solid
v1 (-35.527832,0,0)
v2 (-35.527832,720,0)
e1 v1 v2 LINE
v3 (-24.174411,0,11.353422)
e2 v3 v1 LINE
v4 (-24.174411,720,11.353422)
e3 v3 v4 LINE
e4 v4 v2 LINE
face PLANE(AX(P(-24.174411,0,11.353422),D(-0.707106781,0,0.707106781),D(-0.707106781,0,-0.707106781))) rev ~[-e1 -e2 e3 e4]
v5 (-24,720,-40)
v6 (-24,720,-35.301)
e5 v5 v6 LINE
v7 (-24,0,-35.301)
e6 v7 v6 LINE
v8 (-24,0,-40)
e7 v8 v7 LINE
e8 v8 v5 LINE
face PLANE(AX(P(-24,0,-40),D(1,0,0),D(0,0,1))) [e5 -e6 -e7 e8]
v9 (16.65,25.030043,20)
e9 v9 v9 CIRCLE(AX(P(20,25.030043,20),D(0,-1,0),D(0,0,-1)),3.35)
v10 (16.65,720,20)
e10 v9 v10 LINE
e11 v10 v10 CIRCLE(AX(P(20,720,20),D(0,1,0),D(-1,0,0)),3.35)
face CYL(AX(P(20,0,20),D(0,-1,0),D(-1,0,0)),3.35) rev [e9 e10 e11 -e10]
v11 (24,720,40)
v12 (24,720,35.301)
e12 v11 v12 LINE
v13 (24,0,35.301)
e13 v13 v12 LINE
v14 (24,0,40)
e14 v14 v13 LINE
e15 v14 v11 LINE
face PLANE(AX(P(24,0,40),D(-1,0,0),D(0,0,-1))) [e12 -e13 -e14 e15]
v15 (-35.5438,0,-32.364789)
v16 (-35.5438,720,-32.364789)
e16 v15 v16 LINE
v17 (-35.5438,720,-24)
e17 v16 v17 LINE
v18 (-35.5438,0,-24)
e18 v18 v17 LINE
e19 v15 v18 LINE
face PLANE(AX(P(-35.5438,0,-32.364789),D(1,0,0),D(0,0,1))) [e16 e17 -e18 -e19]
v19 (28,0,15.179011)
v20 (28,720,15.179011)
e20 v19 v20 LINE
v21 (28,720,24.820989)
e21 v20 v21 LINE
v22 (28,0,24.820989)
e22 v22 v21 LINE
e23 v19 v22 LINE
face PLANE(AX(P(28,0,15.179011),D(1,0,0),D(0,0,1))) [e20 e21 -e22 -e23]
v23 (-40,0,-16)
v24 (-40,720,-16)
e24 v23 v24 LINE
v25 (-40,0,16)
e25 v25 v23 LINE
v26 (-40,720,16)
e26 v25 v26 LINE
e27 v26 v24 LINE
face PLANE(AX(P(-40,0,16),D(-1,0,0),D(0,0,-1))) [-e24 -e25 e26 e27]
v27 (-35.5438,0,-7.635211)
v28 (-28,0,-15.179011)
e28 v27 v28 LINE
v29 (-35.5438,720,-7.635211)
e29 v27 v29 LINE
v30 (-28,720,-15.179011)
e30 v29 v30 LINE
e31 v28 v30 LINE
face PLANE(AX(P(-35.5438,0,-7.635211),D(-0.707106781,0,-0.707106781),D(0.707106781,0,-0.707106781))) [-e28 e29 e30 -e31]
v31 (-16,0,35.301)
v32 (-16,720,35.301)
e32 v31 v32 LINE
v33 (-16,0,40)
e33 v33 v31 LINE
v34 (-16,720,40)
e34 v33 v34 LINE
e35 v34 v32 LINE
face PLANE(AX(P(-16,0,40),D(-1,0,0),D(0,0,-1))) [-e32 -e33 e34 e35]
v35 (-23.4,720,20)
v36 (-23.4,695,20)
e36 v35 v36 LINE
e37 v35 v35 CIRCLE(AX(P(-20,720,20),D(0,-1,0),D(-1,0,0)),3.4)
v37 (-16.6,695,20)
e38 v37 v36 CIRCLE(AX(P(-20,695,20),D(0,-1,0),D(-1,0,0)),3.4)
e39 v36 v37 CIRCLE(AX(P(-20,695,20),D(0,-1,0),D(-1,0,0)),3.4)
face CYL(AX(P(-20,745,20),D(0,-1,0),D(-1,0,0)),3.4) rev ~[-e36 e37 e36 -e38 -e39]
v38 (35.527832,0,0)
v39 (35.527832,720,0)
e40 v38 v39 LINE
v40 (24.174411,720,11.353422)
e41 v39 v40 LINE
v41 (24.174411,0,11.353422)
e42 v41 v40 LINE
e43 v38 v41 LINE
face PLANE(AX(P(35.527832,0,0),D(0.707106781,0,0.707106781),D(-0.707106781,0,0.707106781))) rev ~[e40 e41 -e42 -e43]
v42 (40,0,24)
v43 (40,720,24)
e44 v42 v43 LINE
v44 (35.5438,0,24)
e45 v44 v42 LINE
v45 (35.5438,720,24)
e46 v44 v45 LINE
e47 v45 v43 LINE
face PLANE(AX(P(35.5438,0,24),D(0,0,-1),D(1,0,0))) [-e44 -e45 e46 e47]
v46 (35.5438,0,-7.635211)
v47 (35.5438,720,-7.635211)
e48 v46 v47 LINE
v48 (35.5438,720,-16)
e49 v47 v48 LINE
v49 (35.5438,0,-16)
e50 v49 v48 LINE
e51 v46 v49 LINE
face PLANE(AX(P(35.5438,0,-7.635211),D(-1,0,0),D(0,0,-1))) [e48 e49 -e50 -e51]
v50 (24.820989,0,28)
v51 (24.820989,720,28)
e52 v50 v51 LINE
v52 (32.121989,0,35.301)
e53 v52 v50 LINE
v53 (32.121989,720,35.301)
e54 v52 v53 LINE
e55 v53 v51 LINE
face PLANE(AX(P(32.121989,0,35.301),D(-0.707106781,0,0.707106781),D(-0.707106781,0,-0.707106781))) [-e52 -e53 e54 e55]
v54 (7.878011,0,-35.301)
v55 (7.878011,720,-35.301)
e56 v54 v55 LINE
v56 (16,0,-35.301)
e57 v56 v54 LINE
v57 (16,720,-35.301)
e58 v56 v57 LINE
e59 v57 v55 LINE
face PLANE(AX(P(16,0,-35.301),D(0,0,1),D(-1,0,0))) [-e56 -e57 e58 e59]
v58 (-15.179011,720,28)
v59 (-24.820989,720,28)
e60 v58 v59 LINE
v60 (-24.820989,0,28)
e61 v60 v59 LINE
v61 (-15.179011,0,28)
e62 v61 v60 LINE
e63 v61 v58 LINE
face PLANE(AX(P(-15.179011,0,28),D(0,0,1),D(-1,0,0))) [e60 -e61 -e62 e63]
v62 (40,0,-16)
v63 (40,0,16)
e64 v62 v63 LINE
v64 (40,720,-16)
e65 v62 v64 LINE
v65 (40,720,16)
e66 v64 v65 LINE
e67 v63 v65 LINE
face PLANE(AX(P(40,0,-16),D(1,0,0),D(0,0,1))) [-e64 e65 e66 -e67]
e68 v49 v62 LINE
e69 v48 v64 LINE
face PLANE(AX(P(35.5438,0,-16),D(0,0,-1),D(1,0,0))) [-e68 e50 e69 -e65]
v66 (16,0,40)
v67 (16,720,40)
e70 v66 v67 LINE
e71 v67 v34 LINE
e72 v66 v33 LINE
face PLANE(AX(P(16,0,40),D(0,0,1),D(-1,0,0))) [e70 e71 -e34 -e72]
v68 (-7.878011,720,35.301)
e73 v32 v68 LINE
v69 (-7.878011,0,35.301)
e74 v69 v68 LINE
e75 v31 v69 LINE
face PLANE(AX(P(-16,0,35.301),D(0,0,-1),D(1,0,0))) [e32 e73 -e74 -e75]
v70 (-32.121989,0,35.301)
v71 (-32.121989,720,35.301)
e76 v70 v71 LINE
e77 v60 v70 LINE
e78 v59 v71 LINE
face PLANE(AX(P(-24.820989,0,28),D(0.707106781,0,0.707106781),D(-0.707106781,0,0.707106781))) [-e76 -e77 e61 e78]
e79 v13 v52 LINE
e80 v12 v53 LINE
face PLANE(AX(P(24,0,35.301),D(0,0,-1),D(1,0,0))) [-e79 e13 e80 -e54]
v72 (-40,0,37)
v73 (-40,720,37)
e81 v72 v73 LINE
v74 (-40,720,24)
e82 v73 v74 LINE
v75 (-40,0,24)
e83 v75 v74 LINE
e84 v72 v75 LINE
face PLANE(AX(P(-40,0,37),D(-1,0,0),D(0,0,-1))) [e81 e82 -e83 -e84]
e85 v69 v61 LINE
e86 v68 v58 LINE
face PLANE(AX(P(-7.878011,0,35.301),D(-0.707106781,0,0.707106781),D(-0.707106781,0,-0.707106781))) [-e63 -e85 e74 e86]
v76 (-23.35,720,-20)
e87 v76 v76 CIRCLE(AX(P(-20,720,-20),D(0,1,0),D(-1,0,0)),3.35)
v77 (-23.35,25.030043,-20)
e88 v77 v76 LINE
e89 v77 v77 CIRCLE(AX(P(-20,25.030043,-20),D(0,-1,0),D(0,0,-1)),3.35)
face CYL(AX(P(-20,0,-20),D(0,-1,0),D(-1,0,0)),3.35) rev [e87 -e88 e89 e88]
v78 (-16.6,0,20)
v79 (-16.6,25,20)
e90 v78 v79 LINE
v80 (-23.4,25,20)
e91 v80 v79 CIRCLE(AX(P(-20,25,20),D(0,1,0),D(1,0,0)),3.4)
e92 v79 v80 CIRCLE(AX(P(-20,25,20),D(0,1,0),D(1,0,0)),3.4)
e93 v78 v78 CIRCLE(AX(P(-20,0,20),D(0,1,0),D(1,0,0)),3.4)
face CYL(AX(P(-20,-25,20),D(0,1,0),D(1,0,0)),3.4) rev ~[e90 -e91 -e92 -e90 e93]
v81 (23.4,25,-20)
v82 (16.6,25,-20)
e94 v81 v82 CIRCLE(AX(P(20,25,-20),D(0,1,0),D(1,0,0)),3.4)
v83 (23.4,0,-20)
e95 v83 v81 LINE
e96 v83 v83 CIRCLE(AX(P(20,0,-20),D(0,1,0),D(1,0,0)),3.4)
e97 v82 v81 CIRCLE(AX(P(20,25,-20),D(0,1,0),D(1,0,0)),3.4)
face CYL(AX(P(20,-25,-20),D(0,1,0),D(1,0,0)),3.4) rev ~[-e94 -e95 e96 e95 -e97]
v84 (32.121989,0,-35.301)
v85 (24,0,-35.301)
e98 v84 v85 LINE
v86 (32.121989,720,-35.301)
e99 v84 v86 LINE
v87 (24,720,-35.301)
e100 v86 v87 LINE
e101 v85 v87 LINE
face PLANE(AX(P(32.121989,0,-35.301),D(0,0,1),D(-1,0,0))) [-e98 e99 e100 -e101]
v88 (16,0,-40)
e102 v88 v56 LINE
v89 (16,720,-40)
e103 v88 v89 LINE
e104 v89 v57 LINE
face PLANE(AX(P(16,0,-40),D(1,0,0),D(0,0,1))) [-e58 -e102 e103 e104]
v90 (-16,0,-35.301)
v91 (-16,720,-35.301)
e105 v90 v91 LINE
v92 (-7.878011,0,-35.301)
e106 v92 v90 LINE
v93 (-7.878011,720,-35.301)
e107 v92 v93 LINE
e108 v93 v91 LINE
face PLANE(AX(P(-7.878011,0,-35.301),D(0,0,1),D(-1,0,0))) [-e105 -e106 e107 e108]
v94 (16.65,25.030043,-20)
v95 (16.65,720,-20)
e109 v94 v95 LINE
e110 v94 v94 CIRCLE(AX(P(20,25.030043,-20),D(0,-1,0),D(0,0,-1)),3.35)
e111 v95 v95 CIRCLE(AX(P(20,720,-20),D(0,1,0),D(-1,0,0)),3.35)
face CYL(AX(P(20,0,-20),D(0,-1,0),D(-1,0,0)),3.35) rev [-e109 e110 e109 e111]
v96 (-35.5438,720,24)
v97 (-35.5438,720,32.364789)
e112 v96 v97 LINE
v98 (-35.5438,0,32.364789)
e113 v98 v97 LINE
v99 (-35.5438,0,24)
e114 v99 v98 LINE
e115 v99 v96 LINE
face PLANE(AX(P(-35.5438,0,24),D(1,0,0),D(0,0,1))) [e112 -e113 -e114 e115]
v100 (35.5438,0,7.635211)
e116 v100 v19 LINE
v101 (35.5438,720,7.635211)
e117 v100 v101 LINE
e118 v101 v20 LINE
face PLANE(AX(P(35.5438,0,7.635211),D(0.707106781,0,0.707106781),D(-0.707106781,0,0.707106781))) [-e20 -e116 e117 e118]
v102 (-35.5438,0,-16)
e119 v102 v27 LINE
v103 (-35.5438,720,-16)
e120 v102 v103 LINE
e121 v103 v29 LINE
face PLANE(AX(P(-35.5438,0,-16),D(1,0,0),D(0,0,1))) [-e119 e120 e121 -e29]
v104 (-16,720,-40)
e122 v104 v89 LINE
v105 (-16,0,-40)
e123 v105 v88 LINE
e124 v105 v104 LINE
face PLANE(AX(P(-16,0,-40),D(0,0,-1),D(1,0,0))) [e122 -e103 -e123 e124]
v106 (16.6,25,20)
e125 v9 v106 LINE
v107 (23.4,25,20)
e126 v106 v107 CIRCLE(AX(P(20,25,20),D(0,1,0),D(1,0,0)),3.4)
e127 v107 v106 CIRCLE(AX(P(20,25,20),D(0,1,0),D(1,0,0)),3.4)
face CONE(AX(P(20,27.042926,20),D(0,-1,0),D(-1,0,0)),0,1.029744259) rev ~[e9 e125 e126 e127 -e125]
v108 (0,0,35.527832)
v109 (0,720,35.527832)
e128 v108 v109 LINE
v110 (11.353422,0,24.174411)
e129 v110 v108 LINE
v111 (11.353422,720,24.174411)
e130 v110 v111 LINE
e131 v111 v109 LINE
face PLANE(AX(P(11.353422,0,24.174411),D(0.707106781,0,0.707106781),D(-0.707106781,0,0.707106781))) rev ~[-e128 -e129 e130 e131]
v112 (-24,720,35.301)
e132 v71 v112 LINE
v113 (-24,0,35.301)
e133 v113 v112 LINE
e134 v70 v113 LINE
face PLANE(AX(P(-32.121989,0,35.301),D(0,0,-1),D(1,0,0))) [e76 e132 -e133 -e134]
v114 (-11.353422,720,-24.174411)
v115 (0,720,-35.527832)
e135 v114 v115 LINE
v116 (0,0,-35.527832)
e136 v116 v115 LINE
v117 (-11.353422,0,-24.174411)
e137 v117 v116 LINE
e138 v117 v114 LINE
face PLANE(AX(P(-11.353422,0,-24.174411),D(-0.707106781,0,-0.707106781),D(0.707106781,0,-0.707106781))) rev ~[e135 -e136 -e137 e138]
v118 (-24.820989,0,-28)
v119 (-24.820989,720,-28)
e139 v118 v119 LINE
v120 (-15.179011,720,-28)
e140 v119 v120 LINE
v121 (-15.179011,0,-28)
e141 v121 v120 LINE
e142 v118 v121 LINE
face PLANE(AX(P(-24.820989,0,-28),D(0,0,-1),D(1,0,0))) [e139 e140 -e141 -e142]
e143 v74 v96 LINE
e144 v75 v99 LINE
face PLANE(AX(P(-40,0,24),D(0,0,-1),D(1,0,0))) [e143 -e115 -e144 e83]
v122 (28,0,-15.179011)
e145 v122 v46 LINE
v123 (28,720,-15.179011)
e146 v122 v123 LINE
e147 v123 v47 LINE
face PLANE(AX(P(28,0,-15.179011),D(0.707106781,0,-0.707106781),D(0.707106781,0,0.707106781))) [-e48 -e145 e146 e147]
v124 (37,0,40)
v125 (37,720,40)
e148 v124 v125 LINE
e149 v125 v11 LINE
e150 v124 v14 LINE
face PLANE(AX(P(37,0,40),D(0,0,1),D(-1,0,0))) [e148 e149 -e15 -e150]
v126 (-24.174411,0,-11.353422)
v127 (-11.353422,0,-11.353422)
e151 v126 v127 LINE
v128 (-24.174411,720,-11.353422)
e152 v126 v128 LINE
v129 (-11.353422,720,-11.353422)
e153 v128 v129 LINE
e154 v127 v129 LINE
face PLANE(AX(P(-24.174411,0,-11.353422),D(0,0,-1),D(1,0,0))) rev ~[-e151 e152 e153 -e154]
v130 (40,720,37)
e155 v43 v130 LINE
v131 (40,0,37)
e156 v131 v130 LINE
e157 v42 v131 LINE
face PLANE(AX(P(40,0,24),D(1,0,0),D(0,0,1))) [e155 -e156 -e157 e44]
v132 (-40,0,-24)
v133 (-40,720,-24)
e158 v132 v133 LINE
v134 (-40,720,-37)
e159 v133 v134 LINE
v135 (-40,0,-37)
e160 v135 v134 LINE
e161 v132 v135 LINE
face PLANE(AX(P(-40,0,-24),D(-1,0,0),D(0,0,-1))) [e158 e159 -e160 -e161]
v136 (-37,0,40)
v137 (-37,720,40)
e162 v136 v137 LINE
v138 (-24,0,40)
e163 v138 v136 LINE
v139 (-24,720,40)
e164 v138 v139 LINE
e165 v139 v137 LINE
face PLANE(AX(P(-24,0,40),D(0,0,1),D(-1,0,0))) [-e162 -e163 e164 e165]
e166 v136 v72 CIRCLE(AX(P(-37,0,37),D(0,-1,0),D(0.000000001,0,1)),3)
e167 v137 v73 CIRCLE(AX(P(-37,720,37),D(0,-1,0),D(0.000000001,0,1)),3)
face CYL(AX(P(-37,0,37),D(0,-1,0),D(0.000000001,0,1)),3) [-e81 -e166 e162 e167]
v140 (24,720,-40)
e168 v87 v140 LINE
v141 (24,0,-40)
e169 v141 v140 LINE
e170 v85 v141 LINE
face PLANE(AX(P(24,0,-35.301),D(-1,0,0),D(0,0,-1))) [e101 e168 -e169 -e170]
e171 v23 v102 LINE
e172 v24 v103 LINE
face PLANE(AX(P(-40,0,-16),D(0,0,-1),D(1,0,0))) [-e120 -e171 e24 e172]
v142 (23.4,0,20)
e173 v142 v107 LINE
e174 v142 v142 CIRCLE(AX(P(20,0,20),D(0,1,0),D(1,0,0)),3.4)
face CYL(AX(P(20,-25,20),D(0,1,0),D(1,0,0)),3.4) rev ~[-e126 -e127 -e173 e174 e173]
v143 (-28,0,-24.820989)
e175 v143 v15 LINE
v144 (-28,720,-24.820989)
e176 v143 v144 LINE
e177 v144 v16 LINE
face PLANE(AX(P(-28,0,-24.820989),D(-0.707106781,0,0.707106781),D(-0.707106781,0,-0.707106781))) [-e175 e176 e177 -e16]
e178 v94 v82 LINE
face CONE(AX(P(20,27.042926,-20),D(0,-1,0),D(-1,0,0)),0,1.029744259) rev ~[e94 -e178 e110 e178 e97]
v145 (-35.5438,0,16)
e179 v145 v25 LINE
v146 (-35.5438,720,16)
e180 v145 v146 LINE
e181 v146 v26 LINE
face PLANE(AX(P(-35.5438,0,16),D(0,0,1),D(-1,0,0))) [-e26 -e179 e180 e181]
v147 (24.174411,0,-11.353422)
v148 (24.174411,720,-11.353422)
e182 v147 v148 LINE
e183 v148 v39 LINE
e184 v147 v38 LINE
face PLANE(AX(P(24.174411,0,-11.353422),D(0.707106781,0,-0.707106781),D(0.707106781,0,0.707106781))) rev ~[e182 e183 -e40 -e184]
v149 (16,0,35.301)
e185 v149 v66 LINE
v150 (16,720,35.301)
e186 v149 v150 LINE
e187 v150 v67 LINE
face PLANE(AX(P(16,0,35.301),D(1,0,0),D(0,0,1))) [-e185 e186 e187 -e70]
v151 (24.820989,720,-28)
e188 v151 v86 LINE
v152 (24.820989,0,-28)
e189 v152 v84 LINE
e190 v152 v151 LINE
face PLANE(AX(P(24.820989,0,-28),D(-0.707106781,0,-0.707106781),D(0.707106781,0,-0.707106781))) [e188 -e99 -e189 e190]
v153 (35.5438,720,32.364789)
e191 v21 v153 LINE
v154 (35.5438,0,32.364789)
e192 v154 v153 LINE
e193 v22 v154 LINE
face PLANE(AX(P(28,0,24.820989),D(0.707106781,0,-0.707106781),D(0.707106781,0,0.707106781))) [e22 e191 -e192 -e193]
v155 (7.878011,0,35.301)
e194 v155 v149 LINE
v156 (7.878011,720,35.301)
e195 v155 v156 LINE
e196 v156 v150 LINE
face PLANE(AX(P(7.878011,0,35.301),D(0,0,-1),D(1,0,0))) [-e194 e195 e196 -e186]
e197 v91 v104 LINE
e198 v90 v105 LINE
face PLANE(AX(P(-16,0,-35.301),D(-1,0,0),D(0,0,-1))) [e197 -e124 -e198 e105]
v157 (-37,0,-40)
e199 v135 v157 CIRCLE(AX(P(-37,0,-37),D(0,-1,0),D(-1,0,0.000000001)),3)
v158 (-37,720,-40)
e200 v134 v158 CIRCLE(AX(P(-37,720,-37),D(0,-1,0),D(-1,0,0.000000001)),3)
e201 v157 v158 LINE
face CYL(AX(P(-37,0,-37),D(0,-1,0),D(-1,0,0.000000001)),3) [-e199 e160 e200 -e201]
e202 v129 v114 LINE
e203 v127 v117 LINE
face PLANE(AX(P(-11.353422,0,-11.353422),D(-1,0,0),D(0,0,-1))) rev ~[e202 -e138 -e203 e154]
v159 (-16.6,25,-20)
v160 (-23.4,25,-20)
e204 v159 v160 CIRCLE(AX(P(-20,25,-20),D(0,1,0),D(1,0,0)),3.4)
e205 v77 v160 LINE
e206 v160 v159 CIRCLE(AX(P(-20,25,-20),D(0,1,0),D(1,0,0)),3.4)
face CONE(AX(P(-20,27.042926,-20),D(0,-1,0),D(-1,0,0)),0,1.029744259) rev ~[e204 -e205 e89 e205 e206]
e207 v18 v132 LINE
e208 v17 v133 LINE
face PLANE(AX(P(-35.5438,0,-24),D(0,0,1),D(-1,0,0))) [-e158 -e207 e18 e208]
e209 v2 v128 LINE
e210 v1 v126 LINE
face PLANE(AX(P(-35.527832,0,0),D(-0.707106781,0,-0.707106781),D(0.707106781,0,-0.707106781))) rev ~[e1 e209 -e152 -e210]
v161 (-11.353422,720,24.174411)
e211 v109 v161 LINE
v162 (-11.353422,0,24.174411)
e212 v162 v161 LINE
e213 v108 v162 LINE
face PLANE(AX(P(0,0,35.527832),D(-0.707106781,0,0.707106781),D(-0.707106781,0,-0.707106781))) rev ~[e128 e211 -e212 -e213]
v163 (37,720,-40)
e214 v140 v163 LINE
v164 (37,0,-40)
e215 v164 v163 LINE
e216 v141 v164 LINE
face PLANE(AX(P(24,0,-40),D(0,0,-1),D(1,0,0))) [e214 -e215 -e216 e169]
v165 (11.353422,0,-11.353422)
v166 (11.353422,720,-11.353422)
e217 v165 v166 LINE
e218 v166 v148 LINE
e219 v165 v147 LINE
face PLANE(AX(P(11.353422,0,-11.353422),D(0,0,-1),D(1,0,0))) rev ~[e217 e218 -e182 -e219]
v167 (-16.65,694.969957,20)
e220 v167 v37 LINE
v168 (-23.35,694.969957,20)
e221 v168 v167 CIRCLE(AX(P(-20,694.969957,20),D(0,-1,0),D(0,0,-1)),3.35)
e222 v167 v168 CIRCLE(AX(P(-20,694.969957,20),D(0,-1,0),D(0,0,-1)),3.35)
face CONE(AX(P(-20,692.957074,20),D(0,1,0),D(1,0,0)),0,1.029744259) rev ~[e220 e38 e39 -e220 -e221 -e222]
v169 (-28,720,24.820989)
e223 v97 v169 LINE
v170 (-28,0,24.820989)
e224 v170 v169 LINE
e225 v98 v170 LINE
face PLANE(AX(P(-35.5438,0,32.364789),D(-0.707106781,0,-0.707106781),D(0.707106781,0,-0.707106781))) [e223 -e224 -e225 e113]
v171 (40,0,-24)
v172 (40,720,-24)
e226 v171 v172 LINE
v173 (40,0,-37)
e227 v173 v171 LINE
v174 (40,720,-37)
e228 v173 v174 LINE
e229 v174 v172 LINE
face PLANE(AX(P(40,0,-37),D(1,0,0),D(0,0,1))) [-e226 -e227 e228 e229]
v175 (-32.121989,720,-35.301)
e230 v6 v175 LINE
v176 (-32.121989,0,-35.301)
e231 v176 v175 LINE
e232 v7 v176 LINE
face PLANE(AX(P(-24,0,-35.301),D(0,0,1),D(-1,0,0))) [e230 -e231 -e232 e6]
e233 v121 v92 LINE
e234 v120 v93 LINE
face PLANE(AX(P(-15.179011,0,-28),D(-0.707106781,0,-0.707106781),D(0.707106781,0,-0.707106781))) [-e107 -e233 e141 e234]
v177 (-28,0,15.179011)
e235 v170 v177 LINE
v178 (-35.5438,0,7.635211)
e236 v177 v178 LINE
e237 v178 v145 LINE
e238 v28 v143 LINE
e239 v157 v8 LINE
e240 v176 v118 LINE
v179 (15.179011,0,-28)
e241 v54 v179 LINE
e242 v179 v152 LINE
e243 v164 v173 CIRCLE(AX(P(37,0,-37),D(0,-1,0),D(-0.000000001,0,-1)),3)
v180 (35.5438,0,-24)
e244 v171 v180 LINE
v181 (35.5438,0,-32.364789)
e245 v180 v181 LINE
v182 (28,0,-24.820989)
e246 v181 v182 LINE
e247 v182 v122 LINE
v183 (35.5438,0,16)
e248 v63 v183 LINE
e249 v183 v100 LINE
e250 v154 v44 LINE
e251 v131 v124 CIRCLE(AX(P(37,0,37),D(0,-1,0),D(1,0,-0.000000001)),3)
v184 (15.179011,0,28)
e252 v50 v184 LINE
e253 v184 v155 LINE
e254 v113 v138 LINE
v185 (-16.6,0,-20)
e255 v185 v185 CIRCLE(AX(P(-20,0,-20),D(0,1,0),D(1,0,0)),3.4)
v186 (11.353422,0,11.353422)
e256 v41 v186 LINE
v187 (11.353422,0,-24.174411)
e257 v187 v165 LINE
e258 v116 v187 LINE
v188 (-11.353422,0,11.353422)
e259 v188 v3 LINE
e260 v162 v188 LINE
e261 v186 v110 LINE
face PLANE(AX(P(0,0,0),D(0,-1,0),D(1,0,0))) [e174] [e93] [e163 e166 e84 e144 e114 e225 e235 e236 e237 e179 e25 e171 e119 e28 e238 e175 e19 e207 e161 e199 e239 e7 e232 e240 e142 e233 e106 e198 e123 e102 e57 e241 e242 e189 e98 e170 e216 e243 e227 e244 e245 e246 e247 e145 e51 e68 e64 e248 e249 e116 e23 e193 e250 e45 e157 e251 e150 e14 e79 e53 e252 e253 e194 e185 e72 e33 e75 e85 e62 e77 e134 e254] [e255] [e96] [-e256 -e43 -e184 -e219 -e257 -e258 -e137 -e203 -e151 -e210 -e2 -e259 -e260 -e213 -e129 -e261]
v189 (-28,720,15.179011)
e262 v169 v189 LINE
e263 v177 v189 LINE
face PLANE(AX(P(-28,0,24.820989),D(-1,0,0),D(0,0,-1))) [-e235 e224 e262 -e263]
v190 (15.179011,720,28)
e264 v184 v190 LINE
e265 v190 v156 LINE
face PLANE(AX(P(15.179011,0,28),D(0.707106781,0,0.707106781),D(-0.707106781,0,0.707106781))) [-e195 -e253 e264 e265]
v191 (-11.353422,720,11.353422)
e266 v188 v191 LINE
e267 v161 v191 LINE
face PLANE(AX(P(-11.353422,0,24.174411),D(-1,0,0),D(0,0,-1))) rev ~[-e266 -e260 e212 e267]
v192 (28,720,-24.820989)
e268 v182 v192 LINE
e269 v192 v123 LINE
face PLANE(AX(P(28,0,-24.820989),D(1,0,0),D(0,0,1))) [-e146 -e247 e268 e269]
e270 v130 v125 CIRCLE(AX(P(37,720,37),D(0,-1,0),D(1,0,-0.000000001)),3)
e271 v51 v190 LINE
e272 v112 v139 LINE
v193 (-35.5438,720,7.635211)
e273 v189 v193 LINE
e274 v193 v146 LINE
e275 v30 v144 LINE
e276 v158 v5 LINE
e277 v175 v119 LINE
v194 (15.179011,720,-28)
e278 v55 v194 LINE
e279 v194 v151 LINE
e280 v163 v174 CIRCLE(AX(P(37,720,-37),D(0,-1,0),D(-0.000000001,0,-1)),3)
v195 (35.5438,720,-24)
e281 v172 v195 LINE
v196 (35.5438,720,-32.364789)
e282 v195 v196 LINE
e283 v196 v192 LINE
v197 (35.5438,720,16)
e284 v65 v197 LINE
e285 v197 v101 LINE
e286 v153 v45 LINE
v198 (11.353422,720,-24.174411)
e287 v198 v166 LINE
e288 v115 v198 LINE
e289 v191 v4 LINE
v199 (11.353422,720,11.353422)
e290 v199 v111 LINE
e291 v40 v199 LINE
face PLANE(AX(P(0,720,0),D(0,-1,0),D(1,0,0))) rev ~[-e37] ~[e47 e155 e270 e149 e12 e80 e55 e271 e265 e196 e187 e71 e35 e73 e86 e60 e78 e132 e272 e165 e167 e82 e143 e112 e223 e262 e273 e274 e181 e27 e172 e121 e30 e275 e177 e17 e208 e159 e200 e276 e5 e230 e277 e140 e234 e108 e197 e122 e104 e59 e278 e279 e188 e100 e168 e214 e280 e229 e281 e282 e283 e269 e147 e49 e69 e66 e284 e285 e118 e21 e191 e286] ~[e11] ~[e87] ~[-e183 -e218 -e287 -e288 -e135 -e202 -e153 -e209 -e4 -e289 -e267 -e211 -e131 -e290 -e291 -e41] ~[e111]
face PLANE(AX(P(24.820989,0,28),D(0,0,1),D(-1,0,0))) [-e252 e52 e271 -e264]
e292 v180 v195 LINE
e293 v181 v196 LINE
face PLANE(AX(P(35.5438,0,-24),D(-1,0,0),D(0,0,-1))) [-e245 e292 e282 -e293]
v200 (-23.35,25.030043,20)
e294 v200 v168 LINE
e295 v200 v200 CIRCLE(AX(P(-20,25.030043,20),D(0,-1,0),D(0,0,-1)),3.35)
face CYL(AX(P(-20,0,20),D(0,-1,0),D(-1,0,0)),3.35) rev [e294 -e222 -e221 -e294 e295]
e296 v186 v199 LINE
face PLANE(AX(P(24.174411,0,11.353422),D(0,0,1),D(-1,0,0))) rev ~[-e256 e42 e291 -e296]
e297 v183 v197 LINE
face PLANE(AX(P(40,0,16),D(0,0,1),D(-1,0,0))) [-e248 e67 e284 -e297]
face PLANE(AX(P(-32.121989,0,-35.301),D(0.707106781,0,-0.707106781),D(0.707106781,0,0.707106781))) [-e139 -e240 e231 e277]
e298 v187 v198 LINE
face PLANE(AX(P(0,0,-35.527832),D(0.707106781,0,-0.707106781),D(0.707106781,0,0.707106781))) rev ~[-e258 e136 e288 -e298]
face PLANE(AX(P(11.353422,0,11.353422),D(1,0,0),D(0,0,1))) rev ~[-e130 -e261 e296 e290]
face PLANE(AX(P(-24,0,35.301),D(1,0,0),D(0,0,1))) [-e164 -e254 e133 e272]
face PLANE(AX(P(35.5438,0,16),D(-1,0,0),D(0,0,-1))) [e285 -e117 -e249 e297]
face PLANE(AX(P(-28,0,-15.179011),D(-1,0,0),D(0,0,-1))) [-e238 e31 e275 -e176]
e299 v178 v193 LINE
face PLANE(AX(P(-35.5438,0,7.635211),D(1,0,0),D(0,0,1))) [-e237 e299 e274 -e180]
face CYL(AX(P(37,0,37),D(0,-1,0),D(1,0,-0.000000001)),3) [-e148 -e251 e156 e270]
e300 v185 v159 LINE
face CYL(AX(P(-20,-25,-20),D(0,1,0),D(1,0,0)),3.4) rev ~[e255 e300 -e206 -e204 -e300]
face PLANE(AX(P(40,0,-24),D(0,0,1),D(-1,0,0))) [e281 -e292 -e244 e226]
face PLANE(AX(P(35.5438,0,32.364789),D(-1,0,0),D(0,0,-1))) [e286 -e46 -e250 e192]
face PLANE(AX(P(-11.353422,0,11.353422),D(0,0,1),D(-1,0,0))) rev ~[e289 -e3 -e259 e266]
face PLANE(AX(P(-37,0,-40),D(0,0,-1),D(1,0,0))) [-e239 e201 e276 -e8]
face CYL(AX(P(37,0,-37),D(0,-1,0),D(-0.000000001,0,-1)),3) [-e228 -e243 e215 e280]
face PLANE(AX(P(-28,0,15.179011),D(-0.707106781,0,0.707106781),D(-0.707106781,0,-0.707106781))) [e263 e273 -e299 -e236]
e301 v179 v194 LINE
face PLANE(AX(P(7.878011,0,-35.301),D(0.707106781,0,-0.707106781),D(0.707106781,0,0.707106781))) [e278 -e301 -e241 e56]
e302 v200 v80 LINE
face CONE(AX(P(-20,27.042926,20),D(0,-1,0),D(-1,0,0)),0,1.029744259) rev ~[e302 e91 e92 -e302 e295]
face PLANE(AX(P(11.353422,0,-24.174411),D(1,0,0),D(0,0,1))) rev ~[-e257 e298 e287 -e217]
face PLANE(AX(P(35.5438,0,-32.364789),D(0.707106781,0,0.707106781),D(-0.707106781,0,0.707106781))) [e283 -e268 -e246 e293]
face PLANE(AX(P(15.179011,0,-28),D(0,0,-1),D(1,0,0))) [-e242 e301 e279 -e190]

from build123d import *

# Parameters (mm, degrees)
SKETCH2_R                           = 3.35
F_80_SERIES_TS80_80M_650039_2_DEPTH = 720
M8X1_25_TAPPED_HOLE2_D              = 6.8
M8X1_25_TAPPED_HOLE2_DEPTH          = 25
M8X1_25_TAPPED_HOLE2_TIP            = 2.042926105
M8X1_25_TAPPED_HOLE3_D              = 6.8
M8X1_25_TAPPED_HOLE3_DEPTH          = 25
M8X1_25_TAPPED_HOLE3_TIP            = 2.042926105


with BuildPart() as part:
    # Sketch2 → 80 series TS80-80M-650039(2) (new body)
    with BuildSketch(Plane(origin=(0, 0, 0), x_dir=(-1, 0, 0), z_dir=(0, 1, 0))):
        with BuildLine():
            Line((-28, 15.179010667), (-28, 24.820989333))
            Line((-28, 24.820989333), (-35.5438, 32.364789333))
            Line((-35.5438, 32.364789333), (-35.5438, 24))
            Line((-35.5438, 24), (-40, 24))
            Line((-40, 24), (-40, 37))
            ThreePointArc((-40, 37), (-39.121320344, 39.121320344), (-37, 40))
            Line((-37, 40), (-24, 40))
            Line((-24, 40), (-24, 35.301))
            Line((-24, 35.301), (-32.121989333, 35.301))
            Line((-32.121989333, 35.301), (-24.820989333, 28))
            Line((-24.820989333, 28), (-15.179010667, 28))
            Line((-15.179010667, 28), (-7.878010667, 35.301))
            Line((-7.878010667, 35.301), (-16, 35.301))
            Line((-16, 35.301), (-16, 40))
            Line((-16, 40), (16, 40))
            Line((16, 40), (16, 35.301))
            Line((16, 35.301), (7.878010667, 35.301))
            Line((7.878010667, 35.301), (15.179010667, 28))
            Line((15.179010667, 28), (24.820989333, 28))
            Line((24.820989333, 28), (32.121989333, 35.301))
            Line((32.121989333, 35.301), (24, 35.301))
            Line((24, 35.301), (24, 40))
            Line((24, 40), (37, 40))
            ThreePointArc((37, 40), (39.121320344, 39.121320344), (40, 37))
            Line((40, 37), (40, 24))
            Line((40, 24), (35.5438, 24))
            Line((35.5438, 24), (35.5438, 32.364789333))
            Line((35.5438, 32.364789333), (28, 24.820989333))
            Line((28, 24.820989333), (28, 15.179010667))
            Line((28, 15.179010667), (35.5438, 7.635210667))
            Line((35.5438, 7.635210667), (35.5438, 16))
            Line((35.5438, 16), (40, 16))
            Line((40, 16), (40, -16))
            Line((40, -16), (35.5438, -16))
            Line((35.5438, -16), (35.5438, -7.635210667))
            Line((35.5438, -7.635210667), (28, -15.179010667))
            Line((28, -15.179010667), (28, -24.820989333))
            Line((28, -24.820989333), (35.5438, -32.364789333))
            Line((35.5438, -32.364789333), (35.5438, -24))
            Line((35.5438, -24), (40, -24))
            Line((40, -24), (40, -37))
            ThreePointArc((40, -37), (39.121320344, -39.121320344), (37, -40))
            Line((37, -40), (24, -40))
            Line((24, -40), (24, -35.301))
            Line((24, -35.301), (32.121989333, -35.301))
            Line((32.121989333, -35.301), (24.820989333, -28))
            Line((24.820989333, -28), (15.179010667, -28))
            Line((15.179010667, -28), (7.878010667, -35.301))
            Line((7.878010667, -35.301), (16, -35.301))
            Line((16, -35.301), (16, -40))
            Line((16, -40), (-16, -40))
            Line((-16, -40), (-16, -35.301))
            Line((-16, -35.301), (-7.878010667, -35.301))
            Line((-7.878010667, -35.301), (-15.179010667, -28))
            Line((-15.179010667, -28), (-24.820989333, -28))
            Line((-24.820989333, -28), (-32.121989333, -35.301))
            Line((-32.121989333, -35.301), (-24, -35.301))
            Line((-24, -35.301), (-24, -40))
            Line((-24, -40), (-37, -40))
            ThreePointArc((-37, -40), (-39.121320344, -39.121320344), (-40, -37))
            Line((-40, -37), (-40, -24))
            Line((-40, -24), (-35.5438, -24))
            Line((-35.5438, -24), (-35.5438, -32.364789333))
            Line((-35.5438, -32.364789333), (-28, -24.820989333))
            Line((-28, -24.820989333), (-28, -15.179010667))
            Line((-28, -15.179010667), (-35.5438, -7.635210667))
            Line((-35.5438, -7.635210667), (-35.5438, -16))
            Line((-35.5438, -16), (-40, -16))
            Line((-40, -16), (-40, 16))
            Line((-40, 16), (-35.5438, 16))
            Line((-35.5438, 16), (-35.5438, 7.635210667))
            Line((-35.5438, 7.635210667), (-28, 15.179010667))
        make_face()
        with Locations((20, -20)):
            Circle(SKETCH2_R, mode=Mode.SUBTRACT)
        with Locations((-20, -20)):
            Circle(SKETCH2_R, mode=Mode.SUBTRACT)
        with Locations((-20, 20)):
            Circle(SKETCH2_R, mode=Mode.SUBTRACT)
        with Locations((20, 20)):
            Circle(SKETCH2_R, mode=Mode.SUBTRACT)
        Polygon((-11.353421559, 24.174410892), (0, 35.527832452), (11.353421559, 24.174410892), (11.353421559, 11.353421559), (24.174410892, 11.353421559), (35.527832452, 0), (24.174410892, -11.353421559), (11.353421559, -11.353421559), (11.353421559, -24.174410892), (0, -35.527832452), (-11.353421559, -24.174410892), (-11.353421559, -11.353421559), (-24.174410892, -11.353421559), (-35.527832452, 0), (-24.174410892, 11.353421559), (-11.353421559, 11.353421559), align=None, mode=Mode.SUBTRACT)
    extrude(amount=F_80_SERIES_TS80_80M_650039_2_DEPTH)

    # M8x1.25 Tapped Hole2
    with Locations(Plane(origin=(0, 0, 0), x_dir=(-1, 0, 0), z_dir=(0, -1, 0))):
        with Locations((-20, 20), (20, 20), (20, -20), (-20, -20)):
            Hole(M8X1_25_TAPPED_HOLE2_D / 2, depth=M8X1_25_TAPPED_HOLE2_DEPTH)
            with Locations((0, 0, -(M8X1_25_TAPPED_HOLE2_DEPTH + M8X1_25_TAPPED_HOLE2_TIP / 2))):  # 118° drill point
                Cone(0, M8X1_25_TAPPED_HOLE2_D / 2, M8X1_25_TAPPED_HOLE2_TIP, mode=Mode.SUBTRACT)

    # M8x1.25 Tapped Hole3
    with Locations(Plane(origin=(0, 720, 0), x_dir=(1, 0, 0), z_dir=(0, 1, 0))):
        with Locations((-20, -20)):
            Hole(M8X1_25_TAPPED_HOLE3_D / 2, depth=M8X1_25_TAPPED_HOLE3_DEPTH)
            with Locations((0, 0, -(M8X1_25_TAPPED_HOLE3_DEPTH + M8X1_25_TAPPED_HOLE3_TIP / 2))):  # 118° drill point
                Cone(0, M8X1_25_TAPPED_HOLE3_D / 2, M8X1_25_TAPPED_HOLE3_TIP, mode=Mode.SUBTRACT)


solid = part.part
